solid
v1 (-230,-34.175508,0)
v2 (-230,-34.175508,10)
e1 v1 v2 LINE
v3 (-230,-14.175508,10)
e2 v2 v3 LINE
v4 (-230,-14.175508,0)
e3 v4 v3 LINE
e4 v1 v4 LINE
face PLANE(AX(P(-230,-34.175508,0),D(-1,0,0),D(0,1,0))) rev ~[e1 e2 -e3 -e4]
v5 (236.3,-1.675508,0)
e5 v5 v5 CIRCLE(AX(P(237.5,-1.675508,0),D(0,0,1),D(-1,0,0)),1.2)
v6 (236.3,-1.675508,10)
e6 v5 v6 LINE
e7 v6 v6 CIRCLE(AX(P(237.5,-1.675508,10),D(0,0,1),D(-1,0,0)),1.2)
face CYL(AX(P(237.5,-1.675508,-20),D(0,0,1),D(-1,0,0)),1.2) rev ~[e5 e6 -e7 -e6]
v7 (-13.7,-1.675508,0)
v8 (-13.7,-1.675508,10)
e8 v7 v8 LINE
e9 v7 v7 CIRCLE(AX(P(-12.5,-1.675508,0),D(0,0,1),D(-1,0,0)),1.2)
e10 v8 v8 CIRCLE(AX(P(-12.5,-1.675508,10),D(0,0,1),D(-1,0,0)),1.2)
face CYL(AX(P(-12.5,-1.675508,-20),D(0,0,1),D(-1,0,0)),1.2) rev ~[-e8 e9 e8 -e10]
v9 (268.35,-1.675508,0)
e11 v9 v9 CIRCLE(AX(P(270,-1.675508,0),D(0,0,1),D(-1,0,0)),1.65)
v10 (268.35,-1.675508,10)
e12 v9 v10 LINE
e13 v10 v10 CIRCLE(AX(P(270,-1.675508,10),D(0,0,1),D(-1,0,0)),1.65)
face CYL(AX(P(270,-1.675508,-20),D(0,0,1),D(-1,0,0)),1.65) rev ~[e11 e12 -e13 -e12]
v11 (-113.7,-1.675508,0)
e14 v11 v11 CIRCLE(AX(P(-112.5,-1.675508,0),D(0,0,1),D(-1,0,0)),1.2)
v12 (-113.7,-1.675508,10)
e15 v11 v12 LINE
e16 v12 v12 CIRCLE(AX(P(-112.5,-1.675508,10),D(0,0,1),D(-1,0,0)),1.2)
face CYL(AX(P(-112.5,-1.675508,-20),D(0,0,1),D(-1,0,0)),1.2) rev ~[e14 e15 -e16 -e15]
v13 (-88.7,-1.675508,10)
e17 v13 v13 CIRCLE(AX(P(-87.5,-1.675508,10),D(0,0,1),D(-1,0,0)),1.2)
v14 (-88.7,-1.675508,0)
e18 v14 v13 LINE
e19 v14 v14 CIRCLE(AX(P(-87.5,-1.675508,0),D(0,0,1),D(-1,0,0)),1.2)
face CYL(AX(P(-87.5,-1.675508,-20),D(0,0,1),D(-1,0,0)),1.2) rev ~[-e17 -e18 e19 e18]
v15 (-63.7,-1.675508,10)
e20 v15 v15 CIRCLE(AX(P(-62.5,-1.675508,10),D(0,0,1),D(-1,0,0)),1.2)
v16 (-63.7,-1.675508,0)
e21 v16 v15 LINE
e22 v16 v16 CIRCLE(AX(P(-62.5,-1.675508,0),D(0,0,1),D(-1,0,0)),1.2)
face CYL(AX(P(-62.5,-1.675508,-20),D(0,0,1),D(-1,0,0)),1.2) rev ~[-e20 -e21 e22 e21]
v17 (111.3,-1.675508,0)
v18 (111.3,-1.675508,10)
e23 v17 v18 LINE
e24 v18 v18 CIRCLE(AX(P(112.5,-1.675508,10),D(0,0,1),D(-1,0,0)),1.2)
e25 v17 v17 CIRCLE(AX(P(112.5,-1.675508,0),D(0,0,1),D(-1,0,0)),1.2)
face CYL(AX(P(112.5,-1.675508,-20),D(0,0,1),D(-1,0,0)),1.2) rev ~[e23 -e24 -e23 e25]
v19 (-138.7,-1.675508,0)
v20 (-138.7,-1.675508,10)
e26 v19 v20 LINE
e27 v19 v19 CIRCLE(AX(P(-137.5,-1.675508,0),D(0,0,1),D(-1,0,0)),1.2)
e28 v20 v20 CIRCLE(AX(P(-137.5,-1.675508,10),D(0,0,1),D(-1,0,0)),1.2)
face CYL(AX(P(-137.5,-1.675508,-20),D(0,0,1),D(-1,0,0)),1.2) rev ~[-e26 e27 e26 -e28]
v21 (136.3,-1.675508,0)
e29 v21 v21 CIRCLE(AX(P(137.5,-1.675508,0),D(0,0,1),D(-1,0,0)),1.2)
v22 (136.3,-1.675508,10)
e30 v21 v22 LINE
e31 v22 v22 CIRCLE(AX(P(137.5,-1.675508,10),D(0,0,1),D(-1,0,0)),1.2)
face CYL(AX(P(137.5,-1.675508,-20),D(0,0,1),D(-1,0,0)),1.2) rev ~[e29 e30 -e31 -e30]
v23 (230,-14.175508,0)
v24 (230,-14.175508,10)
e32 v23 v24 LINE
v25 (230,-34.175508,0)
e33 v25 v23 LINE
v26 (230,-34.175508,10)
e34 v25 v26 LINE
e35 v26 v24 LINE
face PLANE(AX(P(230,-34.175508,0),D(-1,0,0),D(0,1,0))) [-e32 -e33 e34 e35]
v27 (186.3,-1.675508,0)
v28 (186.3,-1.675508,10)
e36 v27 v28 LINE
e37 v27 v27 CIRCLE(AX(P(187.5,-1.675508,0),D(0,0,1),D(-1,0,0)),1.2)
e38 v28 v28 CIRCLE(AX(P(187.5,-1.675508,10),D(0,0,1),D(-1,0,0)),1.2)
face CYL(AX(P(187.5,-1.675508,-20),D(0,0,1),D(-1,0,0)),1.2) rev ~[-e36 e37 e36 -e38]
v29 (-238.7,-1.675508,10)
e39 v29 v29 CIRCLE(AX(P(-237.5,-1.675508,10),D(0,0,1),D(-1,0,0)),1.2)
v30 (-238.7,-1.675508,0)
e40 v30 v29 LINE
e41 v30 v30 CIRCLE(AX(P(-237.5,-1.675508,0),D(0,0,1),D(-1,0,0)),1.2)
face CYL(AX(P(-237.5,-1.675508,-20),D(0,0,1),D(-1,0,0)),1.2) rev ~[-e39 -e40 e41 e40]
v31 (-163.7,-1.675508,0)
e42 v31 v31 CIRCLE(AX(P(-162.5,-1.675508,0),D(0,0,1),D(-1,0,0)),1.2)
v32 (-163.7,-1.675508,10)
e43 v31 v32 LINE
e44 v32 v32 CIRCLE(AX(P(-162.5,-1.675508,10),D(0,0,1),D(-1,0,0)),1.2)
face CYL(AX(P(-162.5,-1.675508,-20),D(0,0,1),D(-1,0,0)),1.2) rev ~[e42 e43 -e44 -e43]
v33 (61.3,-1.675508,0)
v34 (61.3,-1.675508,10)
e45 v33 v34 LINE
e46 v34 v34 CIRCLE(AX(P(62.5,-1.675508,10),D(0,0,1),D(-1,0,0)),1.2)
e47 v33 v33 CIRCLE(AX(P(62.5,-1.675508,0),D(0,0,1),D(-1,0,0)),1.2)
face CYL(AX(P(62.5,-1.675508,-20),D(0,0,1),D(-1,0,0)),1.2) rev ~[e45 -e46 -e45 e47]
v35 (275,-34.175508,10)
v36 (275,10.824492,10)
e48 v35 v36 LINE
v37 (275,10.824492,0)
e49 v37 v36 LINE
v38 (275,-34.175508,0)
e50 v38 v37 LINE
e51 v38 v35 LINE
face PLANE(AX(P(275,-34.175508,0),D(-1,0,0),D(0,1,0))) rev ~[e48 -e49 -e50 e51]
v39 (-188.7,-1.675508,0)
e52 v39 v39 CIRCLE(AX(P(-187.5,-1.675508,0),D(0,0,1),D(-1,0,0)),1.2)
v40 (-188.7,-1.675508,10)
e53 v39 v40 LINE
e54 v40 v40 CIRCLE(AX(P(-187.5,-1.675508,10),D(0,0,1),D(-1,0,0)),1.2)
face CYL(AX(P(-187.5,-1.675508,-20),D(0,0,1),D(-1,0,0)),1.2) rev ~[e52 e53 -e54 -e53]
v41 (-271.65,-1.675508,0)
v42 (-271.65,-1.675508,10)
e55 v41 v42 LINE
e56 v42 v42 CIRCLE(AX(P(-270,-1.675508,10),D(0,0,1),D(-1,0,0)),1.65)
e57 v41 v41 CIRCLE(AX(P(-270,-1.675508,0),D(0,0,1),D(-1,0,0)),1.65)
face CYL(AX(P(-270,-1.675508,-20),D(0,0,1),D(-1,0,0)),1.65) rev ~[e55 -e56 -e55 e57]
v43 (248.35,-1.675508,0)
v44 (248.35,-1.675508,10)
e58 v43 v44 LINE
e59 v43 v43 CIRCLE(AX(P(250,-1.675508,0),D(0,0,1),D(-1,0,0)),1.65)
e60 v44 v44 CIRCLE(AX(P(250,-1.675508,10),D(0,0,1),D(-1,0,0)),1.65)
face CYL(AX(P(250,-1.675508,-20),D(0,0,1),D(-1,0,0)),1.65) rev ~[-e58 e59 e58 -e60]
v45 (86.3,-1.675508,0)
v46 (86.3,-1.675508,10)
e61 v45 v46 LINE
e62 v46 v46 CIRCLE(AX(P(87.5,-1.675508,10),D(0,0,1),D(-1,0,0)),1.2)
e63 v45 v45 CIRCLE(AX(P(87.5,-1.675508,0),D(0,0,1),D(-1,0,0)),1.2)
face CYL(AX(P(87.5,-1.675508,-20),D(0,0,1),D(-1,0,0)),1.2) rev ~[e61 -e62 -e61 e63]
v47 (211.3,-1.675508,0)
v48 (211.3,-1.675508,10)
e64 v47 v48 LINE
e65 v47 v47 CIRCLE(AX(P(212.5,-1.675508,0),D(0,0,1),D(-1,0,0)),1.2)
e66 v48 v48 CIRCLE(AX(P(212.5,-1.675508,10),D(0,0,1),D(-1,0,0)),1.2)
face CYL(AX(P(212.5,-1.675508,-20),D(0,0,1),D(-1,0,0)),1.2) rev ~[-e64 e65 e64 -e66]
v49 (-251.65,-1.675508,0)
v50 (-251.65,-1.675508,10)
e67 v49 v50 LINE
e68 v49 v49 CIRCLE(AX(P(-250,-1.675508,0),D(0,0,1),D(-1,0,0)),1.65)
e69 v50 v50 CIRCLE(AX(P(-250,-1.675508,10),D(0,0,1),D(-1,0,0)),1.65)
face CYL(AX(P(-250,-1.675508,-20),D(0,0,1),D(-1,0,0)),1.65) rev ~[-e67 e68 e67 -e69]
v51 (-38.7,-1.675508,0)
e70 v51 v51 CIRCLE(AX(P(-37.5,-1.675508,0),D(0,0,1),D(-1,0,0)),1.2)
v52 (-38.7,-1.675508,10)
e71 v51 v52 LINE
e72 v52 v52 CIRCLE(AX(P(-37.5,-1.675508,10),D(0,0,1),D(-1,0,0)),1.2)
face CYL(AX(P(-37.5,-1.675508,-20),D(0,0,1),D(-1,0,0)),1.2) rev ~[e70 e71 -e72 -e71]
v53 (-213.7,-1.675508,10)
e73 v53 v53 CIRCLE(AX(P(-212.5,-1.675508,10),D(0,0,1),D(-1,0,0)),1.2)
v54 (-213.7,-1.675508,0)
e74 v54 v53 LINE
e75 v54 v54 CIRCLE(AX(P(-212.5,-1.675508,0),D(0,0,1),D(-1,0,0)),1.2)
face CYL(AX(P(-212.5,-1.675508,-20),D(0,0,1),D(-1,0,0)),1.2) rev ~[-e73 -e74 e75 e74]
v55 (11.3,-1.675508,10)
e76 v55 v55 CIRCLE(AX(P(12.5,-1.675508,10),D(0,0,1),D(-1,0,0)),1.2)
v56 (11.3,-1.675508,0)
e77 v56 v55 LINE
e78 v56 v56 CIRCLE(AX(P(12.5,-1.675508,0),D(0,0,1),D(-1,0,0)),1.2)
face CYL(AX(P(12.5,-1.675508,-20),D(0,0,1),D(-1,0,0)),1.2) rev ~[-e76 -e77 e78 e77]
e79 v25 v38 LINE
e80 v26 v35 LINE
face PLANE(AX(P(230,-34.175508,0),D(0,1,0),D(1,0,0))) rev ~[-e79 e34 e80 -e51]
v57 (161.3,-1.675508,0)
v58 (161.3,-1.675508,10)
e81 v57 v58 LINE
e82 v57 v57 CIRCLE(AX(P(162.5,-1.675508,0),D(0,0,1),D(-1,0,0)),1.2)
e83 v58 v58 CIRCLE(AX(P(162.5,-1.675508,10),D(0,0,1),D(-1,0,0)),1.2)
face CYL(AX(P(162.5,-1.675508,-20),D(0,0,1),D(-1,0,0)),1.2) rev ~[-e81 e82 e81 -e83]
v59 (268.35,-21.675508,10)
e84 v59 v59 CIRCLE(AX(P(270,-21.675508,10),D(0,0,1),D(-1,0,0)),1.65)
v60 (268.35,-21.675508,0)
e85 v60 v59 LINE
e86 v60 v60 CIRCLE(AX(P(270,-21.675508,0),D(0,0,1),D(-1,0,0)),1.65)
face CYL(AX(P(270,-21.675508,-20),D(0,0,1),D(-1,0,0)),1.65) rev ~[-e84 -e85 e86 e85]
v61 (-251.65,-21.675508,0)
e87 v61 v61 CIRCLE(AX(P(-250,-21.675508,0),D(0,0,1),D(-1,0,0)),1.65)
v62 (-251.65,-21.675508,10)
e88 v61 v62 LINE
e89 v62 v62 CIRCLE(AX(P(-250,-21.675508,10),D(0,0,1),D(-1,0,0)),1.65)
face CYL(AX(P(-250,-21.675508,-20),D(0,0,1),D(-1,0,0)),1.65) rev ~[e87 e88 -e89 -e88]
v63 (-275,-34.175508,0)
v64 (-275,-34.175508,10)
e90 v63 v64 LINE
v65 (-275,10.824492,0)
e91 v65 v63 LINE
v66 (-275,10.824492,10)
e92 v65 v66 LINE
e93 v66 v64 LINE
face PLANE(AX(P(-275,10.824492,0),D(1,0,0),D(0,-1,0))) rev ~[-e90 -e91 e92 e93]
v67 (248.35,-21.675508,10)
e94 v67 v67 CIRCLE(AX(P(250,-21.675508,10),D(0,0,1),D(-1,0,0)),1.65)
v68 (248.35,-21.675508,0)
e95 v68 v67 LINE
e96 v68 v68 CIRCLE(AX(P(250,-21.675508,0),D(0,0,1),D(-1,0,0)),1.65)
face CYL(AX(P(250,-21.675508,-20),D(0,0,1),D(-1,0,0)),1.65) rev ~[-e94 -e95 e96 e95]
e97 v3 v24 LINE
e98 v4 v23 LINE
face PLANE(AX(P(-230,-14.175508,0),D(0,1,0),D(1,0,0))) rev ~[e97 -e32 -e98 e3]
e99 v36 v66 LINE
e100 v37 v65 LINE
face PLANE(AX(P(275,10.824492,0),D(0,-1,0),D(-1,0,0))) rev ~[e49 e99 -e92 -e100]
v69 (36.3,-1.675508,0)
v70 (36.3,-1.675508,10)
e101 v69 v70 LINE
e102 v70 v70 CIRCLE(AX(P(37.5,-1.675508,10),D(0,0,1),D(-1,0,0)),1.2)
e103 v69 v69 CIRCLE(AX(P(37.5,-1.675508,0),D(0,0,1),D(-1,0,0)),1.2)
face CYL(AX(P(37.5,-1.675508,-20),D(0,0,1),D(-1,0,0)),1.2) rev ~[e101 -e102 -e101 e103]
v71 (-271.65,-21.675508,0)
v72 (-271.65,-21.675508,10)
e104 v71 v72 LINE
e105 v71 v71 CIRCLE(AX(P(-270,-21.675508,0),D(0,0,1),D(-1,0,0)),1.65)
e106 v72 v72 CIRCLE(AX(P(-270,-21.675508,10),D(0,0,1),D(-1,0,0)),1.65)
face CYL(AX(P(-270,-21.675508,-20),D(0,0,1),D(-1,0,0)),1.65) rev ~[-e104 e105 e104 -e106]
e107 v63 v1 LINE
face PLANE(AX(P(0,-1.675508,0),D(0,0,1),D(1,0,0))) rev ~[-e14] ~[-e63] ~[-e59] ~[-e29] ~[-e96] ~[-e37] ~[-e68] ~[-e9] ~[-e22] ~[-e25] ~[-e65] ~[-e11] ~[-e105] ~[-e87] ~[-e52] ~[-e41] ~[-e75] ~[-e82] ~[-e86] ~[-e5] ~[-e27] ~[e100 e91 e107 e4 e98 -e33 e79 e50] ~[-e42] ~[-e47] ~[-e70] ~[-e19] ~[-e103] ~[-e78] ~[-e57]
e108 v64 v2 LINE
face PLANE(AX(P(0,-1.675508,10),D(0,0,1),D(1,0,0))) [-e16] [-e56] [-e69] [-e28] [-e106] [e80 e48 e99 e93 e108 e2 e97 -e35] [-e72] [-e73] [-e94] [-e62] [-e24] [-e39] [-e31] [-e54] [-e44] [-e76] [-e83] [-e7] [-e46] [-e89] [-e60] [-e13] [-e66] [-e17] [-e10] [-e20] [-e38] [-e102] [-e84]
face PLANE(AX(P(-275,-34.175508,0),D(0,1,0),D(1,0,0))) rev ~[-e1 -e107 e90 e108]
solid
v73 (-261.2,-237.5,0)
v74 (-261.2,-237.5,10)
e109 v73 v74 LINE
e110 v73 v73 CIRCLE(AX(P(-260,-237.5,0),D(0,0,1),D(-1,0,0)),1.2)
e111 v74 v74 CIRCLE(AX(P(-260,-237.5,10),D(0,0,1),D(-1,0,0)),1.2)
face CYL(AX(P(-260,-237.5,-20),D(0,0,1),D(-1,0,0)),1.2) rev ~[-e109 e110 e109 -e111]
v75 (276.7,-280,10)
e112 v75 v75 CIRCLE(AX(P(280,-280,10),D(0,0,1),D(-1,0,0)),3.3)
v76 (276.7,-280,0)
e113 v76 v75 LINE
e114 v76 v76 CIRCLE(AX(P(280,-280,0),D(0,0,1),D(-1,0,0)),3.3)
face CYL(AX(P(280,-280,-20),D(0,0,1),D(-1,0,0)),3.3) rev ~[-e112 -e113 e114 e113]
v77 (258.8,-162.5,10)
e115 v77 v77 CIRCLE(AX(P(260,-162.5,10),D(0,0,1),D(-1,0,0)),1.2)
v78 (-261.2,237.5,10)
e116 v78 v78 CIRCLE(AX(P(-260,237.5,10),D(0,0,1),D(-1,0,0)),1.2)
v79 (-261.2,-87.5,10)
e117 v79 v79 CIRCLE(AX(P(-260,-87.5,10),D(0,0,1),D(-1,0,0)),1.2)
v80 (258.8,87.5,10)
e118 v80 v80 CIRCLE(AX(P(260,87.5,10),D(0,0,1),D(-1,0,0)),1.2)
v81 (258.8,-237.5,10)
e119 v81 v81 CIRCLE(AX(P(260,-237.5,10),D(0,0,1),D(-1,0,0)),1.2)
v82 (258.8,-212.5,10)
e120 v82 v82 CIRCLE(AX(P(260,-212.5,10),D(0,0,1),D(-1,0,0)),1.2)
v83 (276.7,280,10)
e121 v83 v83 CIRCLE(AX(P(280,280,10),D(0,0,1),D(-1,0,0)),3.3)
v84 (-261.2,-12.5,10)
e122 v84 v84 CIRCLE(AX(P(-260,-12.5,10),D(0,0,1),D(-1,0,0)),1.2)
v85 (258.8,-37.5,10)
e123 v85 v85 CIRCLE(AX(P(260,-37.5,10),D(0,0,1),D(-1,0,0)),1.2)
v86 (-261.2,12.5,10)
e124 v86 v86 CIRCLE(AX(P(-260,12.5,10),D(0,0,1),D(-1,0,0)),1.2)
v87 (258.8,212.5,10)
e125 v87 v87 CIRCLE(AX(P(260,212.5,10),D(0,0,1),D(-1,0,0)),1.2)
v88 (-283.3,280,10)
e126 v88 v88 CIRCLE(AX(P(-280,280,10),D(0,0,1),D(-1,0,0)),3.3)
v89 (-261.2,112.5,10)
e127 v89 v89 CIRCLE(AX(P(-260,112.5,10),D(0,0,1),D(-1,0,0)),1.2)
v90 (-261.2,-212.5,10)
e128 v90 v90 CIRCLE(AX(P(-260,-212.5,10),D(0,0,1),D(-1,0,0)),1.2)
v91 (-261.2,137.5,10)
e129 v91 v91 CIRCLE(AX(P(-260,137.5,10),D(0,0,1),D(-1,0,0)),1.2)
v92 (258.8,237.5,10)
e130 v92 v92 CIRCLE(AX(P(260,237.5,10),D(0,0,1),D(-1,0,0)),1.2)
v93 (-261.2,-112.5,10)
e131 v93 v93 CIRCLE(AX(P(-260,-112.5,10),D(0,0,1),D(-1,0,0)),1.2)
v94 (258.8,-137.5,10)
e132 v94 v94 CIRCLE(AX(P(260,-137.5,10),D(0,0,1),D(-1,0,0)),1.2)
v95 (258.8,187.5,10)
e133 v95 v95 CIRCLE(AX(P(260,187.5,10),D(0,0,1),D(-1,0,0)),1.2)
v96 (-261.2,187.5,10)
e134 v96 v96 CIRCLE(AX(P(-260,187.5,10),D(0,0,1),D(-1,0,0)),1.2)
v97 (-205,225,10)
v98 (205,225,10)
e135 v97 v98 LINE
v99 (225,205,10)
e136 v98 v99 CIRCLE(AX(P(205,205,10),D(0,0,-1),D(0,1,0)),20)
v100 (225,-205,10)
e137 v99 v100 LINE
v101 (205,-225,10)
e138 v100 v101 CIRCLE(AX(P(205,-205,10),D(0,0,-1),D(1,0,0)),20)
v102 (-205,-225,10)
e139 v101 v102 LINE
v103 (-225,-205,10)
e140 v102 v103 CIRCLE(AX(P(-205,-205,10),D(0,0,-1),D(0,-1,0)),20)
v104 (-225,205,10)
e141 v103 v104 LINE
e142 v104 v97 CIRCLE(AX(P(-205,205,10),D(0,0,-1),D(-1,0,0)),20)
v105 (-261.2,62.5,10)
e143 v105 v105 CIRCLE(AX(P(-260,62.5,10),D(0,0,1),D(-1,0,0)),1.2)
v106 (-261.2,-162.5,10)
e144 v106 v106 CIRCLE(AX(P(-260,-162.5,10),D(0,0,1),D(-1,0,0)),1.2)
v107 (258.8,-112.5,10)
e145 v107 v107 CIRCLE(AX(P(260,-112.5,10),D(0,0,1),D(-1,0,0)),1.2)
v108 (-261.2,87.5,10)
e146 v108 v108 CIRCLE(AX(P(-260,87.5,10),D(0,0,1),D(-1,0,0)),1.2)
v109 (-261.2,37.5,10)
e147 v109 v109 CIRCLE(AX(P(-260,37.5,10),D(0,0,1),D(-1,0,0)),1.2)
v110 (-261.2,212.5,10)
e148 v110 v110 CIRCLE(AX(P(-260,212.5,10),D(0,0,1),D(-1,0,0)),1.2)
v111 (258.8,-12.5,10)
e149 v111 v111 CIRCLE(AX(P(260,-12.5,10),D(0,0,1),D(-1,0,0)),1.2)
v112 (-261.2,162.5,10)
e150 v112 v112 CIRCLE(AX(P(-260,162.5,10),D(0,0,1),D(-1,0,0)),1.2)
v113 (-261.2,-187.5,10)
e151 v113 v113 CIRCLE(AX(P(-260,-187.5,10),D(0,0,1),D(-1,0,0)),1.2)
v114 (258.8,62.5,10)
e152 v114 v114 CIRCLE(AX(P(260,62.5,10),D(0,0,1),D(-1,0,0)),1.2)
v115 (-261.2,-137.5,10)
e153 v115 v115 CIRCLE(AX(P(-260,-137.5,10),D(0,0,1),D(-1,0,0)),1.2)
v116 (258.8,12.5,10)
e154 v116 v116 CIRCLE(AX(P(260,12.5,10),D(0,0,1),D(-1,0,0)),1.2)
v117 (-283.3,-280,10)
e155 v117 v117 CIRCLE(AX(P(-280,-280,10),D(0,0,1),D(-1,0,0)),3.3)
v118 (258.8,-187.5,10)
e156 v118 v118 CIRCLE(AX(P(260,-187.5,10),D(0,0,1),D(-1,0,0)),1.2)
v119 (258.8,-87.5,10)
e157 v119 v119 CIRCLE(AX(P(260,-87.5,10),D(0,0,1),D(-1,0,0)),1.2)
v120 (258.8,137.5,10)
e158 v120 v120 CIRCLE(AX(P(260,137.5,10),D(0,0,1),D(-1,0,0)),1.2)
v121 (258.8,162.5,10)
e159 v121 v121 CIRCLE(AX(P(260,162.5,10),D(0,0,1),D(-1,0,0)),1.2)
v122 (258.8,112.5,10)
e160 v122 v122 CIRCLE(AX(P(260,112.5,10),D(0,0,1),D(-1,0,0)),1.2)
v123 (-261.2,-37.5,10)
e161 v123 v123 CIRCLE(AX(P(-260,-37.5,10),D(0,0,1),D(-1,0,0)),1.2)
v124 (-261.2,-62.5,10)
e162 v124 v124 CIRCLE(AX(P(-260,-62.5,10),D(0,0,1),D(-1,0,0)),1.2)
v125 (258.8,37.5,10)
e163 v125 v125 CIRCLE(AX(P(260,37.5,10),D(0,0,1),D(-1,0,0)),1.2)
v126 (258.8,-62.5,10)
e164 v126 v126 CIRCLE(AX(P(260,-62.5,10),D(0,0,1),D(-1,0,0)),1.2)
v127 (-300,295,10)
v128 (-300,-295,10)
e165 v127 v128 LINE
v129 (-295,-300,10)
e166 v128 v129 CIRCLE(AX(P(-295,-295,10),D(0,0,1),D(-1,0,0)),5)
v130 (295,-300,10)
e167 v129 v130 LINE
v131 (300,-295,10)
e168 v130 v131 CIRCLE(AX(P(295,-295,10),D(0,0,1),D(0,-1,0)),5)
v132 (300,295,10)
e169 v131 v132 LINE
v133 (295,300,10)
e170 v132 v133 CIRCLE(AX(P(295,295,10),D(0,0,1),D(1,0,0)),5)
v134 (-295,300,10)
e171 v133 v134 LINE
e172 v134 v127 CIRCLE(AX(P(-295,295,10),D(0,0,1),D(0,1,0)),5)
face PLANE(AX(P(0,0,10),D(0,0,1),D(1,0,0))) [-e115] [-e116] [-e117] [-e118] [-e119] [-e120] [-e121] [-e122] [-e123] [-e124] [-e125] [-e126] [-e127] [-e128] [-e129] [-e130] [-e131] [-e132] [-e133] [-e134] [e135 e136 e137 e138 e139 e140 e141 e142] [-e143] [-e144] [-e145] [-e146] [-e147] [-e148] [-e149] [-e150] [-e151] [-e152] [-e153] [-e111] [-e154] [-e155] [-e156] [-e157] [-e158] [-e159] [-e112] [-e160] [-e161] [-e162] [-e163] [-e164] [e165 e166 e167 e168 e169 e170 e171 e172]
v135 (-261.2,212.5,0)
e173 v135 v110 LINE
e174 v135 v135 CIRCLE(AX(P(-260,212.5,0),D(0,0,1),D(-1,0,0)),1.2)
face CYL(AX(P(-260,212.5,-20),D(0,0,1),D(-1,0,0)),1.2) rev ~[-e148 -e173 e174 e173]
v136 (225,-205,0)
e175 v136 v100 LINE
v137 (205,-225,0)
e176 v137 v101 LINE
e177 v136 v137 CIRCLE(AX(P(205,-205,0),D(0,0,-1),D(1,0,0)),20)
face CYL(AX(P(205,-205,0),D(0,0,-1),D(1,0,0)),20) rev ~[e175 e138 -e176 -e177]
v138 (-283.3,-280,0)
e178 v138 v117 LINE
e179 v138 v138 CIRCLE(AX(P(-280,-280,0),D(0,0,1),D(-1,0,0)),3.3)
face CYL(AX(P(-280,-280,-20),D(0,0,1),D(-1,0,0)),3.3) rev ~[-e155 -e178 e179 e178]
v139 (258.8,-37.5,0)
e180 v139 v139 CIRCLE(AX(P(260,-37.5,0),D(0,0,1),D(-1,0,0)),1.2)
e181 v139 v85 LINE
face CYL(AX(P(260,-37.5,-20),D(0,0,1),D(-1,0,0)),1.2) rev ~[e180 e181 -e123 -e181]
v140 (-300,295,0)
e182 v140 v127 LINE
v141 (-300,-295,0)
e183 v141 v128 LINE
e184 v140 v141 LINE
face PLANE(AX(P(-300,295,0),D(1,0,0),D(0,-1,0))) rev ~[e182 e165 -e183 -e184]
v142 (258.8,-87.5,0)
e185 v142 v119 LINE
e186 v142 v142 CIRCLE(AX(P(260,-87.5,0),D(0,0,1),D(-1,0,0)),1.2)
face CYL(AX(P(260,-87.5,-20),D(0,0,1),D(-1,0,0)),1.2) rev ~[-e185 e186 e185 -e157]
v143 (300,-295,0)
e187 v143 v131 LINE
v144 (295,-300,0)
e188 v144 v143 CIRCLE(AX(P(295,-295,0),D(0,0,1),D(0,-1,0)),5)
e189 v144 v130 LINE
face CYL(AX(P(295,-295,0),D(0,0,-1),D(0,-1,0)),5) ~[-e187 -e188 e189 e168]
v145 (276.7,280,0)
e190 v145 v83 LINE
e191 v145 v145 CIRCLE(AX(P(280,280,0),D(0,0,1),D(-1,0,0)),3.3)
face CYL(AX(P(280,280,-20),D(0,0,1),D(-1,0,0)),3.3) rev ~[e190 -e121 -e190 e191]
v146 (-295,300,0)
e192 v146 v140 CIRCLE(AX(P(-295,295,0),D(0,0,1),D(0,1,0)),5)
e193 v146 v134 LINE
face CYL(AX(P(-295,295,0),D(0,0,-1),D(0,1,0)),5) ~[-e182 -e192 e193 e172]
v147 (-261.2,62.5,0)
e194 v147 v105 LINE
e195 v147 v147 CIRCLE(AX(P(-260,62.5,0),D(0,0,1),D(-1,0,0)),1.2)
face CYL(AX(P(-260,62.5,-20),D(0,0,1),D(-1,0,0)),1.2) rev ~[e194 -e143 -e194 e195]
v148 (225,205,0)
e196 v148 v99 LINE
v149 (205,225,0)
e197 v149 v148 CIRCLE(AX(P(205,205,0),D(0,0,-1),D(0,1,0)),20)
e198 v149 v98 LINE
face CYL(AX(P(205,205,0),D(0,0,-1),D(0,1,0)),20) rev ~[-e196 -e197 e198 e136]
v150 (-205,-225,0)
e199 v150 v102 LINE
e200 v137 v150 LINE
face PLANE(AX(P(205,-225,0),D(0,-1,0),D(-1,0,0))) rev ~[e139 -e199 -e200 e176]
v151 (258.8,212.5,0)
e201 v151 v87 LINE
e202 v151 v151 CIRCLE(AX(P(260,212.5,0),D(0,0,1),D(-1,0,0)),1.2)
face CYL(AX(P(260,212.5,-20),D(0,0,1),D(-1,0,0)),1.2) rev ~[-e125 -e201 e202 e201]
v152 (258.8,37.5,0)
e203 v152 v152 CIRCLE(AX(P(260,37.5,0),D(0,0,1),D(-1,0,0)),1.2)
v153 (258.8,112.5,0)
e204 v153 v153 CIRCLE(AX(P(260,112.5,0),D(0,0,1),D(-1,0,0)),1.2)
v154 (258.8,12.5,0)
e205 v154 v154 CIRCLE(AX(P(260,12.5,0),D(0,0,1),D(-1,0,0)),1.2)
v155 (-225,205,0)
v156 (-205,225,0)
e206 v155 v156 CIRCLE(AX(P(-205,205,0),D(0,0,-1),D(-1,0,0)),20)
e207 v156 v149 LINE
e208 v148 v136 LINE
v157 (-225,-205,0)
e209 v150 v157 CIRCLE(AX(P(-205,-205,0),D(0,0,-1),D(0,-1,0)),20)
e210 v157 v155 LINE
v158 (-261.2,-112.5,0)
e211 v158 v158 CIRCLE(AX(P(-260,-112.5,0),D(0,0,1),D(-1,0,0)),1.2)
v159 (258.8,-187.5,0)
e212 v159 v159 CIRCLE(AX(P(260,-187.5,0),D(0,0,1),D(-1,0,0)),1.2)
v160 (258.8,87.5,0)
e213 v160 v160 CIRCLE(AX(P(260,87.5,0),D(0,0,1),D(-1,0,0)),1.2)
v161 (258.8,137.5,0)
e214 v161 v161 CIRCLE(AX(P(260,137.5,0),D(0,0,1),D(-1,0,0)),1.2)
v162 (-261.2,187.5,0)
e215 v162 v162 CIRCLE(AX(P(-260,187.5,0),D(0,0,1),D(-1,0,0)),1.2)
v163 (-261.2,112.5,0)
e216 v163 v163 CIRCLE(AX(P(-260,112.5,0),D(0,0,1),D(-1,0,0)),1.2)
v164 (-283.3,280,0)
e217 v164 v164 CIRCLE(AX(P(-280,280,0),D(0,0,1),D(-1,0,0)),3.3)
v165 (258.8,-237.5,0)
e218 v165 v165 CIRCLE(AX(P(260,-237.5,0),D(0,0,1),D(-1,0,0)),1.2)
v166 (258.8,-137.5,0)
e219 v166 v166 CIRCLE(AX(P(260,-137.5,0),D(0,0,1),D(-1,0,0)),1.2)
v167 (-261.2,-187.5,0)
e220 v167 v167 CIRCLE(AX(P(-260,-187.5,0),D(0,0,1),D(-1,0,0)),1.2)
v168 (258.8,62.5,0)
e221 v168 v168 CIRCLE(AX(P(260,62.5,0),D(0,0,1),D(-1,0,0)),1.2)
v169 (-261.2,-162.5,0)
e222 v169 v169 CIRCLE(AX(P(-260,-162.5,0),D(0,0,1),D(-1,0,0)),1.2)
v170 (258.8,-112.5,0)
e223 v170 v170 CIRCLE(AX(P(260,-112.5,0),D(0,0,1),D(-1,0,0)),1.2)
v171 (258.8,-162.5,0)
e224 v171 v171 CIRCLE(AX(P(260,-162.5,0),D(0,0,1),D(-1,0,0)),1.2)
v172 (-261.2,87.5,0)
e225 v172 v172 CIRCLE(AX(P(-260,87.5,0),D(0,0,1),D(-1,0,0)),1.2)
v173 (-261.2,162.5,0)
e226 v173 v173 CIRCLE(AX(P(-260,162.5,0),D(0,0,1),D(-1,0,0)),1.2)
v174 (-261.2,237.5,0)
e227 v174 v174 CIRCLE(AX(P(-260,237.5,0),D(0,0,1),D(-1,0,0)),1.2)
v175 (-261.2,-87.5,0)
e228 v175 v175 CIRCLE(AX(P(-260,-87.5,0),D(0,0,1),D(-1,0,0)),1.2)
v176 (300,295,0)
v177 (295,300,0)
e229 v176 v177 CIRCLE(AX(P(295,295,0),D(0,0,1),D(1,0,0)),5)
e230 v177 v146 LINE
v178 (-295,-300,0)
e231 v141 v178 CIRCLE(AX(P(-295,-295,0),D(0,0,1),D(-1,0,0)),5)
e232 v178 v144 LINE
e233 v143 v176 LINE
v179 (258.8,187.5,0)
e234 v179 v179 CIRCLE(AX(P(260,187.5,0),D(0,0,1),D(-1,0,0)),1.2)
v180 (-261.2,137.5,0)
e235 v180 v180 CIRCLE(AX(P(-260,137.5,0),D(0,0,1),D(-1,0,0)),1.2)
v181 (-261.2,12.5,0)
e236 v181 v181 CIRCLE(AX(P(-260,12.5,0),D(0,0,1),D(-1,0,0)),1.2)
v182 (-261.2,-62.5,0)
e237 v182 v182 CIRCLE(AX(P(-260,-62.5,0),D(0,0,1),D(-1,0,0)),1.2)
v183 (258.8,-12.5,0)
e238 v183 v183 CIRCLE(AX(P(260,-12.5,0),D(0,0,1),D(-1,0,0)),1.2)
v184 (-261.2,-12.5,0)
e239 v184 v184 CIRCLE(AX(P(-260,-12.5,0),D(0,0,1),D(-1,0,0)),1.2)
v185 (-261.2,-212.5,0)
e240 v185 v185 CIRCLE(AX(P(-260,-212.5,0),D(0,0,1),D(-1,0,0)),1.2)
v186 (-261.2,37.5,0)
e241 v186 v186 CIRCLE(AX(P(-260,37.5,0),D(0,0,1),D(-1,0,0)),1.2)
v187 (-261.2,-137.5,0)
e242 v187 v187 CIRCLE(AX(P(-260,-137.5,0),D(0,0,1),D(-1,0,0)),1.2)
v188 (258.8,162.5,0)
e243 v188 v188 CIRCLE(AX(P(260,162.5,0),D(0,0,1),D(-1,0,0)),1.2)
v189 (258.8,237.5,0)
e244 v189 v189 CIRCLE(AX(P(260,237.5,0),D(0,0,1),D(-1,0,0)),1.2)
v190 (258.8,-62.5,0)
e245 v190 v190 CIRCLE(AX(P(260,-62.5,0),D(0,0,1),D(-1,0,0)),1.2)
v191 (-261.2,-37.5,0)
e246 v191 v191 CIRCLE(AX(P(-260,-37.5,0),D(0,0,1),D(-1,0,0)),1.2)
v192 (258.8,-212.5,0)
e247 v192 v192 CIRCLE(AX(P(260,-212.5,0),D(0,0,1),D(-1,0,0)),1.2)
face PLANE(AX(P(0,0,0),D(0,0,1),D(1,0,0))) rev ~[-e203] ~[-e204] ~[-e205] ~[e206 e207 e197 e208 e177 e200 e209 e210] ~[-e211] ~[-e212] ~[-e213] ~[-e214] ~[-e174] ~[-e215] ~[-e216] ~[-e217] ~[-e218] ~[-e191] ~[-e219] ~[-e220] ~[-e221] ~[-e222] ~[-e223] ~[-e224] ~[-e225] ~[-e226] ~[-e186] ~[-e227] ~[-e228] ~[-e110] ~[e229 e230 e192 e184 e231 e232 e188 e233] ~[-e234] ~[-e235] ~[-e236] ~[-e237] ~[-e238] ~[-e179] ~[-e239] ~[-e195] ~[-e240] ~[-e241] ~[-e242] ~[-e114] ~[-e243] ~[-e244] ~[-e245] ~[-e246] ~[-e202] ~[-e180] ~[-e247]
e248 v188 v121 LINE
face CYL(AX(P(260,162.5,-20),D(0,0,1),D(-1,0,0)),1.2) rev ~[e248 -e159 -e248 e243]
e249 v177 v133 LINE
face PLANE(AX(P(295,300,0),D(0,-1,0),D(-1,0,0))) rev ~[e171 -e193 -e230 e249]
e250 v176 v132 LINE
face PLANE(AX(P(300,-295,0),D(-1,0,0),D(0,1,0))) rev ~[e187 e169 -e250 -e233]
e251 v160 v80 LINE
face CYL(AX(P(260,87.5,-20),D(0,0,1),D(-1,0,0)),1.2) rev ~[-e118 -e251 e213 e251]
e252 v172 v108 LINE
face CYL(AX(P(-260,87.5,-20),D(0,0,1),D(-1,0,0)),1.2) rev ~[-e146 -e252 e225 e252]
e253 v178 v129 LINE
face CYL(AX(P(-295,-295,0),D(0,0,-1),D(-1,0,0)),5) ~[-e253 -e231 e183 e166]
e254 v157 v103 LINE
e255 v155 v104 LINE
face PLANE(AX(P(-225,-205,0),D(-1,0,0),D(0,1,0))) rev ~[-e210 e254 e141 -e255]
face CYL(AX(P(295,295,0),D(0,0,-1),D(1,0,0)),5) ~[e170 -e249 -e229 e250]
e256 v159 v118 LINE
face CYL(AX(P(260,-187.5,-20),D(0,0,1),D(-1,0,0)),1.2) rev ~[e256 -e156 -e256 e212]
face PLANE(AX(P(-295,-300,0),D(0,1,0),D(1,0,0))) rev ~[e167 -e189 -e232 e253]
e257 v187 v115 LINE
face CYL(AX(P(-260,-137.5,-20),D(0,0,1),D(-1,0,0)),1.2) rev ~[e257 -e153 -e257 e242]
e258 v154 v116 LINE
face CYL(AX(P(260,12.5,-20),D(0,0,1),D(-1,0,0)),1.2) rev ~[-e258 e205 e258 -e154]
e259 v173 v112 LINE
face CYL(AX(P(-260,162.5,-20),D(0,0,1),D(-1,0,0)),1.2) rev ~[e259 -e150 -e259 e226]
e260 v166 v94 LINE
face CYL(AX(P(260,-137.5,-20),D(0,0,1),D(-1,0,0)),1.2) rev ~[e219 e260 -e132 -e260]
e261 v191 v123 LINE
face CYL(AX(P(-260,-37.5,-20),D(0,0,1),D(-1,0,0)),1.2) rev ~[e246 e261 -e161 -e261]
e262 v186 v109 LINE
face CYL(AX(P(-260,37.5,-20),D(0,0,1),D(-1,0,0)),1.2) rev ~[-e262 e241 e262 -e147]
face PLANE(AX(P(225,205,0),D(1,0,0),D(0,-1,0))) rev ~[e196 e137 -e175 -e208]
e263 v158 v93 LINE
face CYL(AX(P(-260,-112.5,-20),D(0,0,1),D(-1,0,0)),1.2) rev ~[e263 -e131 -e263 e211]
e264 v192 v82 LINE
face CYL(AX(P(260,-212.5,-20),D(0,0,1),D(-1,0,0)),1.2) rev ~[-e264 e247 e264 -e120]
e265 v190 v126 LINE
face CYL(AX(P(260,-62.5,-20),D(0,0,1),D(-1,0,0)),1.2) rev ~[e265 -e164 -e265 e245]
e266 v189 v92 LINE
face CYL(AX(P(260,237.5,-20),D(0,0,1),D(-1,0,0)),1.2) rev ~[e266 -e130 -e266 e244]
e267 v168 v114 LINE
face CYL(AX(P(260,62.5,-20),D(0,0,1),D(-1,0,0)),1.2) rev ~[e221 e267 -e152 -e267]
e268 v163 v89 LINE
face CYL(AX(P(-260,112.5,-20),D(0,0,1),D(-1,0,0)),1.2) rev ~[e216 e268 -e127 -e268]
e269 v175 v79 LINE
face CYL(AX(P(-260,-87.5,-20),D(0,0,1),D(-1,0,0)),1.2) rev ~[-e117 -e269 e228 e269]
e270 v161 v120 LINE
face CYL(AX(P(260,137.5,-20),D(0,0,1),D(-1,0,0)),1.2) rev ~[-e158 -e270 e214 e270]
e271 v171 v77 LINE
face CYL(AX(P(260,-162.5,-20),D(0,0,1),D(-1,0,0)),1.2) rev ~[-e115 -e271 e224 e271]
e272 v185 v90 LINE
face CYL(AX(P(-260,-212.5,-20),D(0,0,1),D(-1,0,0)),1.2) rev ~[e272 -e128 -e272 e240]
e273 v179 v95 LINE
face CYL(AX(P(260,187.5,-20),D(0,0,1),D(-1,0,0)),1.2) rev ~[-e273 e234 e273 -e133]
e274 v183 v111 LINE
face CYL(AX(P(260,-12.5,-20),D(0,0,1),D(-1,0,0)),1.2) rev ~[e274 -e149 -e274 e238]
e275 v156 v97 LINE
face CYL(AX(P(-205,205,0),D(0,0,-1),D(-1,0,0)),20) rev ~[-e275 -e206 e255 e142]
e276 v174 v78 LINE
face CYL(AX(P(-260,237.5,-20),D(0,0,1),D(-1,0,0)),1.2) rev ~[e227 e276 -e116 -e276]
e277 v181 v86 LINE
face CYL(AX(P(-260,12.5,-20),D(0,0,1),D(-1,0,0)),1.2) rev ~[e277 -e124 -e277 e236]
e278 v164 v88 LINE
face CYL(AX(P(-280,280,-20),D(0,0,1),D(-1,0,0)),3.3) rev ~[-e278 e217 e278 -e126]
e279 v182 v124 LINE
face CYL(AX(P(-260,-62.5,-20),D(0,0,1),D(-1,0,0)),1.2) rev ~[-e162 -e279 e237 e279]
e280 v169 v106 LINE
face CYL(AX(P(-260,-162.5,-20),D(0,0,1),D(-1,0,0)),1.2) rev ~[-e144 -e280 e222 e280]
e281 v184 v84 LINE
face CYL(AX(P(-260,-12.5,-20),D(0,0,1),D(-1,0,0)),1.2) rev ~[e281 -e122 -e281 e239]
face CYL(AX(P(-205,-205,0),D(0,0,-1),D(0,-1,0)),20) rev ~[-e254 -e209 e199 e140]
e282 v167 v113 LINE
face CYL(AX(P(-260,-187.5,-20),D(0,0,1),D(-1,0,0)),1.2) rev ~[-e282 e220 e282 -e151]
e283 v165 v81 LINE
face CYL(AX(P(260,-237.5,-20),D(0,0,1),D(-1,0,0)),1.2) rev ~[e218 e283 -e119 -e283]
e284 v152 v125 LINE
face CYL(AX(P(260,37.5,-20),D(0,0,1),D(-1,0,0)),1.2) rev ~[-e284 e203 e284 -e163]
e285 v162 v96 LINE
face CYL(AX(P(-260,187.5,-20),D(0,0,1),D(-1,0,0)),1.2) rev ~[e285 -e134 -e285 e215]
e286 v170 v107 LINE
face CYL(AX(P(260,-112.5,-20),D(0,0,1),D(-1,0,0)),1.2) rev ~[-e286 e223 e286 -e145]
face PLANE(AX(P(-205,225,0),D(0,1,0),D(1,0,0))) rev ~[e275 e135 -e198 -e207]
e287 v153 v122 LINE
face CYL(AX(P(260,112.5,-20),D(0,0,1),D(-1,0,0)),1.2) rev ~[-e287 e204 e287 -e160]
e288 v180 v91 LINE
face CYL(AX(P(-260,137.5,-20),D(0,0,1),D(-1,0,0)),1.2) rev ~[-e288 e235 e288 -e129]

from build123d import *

# Parameters (mm, degrees)
F1_DEPTH = 10
F2_D     = 2.4
F2_DEPTH = 20
F2_TIP   = 0.7210327428
F3_W     = 460
F3_H     = 25
F3_W_2   = 45
F3_H_2   = 20
F4_DEPTH = 10
F6_D     = 2.4
F6_DEPTH = 20
F6_TIP   = 0.7210327428
F8_D     = 3.3
F8_DEPTH = 20
F8_TIP   = 0.9914200214
F9_D     = 6.6
F9_DEPTH = 20
F9_TIP   = 1.9828400428


with BuildPart() as f1:
    # F0 (on Top) → F1 (new body)
    with BuildSketch(Plane.XY):
        with BuildLine():
            Line((295, 300), (-295, 300))
            ThreePointArc((-295, 300), (-298.5355339059, 298.5355339059), (-300, 295))
            Line((-300, 295), (-300, -295))
            ThreePointArc((-300, -295), (-298.5355339059, -298.5355339059), (-295, -300))
            Line((-295, -300), (295, -300))
            ThreePointArc((295, -300), (298.5355339059, -298.5355339059), (300, -295))
            Line((300, -295), (300, 295))
            ThreePointArc((300, 295), (298.5355339059, 298.5355339059), (295, 300))
        make_face()
        with BuildLine():
            Line((205, -225), (-205, -225))
            ThreePointArc((-205, -225), (-219.1421356237, -219.1421356237), (-225, -205))
            Line((-225, -205), (-225, 205))
            ThreePointArc((-225, 205), (-219.1421356237, 219.1421356237), (-205, 225))
            Line((-205, 225), (205, 225))
            ThreePointArc((205, 225), (219.1421356237, 219.1421356237), (225, 205))
            Line((225, 205), (225, -205))
            ThreePointArc((225, -205), (219.1421356237, -219.1421356237), (205, -225))
        make_face(mode=Mode.SUBTRACT)
    extrude(amount=F1_DEPTH)

    # F2
    with Locations(Plane(origin=(0, 0, 0), x_dir=(1, 0, 0), z_dir=(0, 0, -1))):
        with Locations((-260, -237.5), (-260, -212.5), (-260, -187.5), (-260, -162.5), (-260, -137.5), (-260, -112.5), (-260, -87.5), (-260, -62.5), (-260, -37.5), (-260, -12.5), (-260, 12.5), (-260, 37.5), (-260, 62.5), (-260, 87.5), (-260, 112.5), (-260, 137.5), (-260, 162.5), (-260, 187.5), (-260, 212.5), (-260, 237.5), (260, -187.5), (260, 187.5), (260, -62.5), (260, 237.5), (260, -12.5), (260, 37.5), (260, -137.5), (260, 137.5), (260, -237.5), (260, -112.5), (260, 62.5), (260, 12.5), (260, -162.5), (260, 212.5), (260, -37.5), (260, -87.5), (260, 162.5), (260, -212.5), (260, 112.5), (260, 87.5)):
            Hole(F2_D / 2, depth=F2_DEPTH)
            with Locations((0, 0, -(F2_DEPTH + F2_TIP / 2))):  # 118° drill point
                Cone(0, F2_D / 2, F2_TIP, mode=Mode.SUBTRACT)

    # F9
    with Locations(Plane(origin=(0, 0, 0), x_dir=(1, 0, 0), z_dir=(0, 0, -1))):
        with Locations((-280, -280), (-280, 280), (280, 280), (280, -280)):
            Hole(F9_D / 2, depth=F9_DEPTH)
            with Locations((0, 0, -(F9_DEPTH + F9_TIP / 2))):  # 118° drill point
                Cone(0, F9_D / 2, F9_TIP, mode=Mode.SUBTRACT)


with BuildPart() as f4:
    # F3 (on Top) → F4 (new body)
    with BuildSketch(Plane.XY):
        with Locations((0, -1.6755077243)):
            Rectangle(F3_W, F3_H)
        with Locations((252.5, -1.6755077243)):
            Rectangle(F3_W_2, F3_H)
        with Locations((252.5, -24.1755077243)):
            Rectangle(F3_W_2, F3_H_2)
        with Locations((-252.5, -1.6755077243)):
            Rectangle(F3_W_2, F3_H)
        with Locations((-252.5, -24.1755077243)):
            Rectangle(F3_W_2, F3_H_2)
    extrude(amount=F4_DEPTH)

    # F6
    with Locations(Plane(origin=(0, 0, 0), x_dir=(1, 0, 0), z_dir=(0, 0, -1))):
        with Locations((-12.5, 1.6755077243), (12.5, 1.6755077243), (37.5, 1.6755077243), (237.5, 1.6755077243), (-137.5, 1.6755077243), (-162.5, 1.6755077243), (-87.5, 1.6755077243), (-112.5, 1.6755077243), (-37.5, 1.6755077243), (-62.5, 1.6755077243), (87.5, 1.6755077243), (62.5, 1.6755077243), (137.5, 1.6755077243), (112.5, 1.6755077243), (187.5, 1.6755077243), (-237.5, 1.6755077243), (162.5, 1.6755077243), (-187.5, 1.6755077243), (212.5, 1.6755077243), (-212.5, 1.6755077243)):
            Hole(F6_D / 2, depth=F6_DEPTH)
            with Locations((0, 0, -(F6_DEPTH + F6_TIP / 2))):  # 118° drill point
                Cone(0, F6_D / 2, F6_TIP, mode=Mode.SUBTRACT)

    # F8
    with Locations(Plane(origin=(0, 0, 0), x_dir=(1, 0, 0), z_dir=(0, 0, -1))):
        with Locations((-270, 21.6755077243), (-270, 1.6755077243), (-250, 21.6755077243), (250, 21.6755077243), (250, 1.6755077243), (270, 1.6755077243), (270, 21.6755077243), (-250, 1.6755077243)):
            Hole(F8_D / 2, depth=F8_DEPTH)
            with Locations((0, 0, -(F8_DEPTH + F8_TIP / 2))):  # 118° drill point
                Cone(0, F8_D / 2, F8_TIP, mode=Mode.SUBTRACT)


solid = Compound([f1.part, f4.part])
